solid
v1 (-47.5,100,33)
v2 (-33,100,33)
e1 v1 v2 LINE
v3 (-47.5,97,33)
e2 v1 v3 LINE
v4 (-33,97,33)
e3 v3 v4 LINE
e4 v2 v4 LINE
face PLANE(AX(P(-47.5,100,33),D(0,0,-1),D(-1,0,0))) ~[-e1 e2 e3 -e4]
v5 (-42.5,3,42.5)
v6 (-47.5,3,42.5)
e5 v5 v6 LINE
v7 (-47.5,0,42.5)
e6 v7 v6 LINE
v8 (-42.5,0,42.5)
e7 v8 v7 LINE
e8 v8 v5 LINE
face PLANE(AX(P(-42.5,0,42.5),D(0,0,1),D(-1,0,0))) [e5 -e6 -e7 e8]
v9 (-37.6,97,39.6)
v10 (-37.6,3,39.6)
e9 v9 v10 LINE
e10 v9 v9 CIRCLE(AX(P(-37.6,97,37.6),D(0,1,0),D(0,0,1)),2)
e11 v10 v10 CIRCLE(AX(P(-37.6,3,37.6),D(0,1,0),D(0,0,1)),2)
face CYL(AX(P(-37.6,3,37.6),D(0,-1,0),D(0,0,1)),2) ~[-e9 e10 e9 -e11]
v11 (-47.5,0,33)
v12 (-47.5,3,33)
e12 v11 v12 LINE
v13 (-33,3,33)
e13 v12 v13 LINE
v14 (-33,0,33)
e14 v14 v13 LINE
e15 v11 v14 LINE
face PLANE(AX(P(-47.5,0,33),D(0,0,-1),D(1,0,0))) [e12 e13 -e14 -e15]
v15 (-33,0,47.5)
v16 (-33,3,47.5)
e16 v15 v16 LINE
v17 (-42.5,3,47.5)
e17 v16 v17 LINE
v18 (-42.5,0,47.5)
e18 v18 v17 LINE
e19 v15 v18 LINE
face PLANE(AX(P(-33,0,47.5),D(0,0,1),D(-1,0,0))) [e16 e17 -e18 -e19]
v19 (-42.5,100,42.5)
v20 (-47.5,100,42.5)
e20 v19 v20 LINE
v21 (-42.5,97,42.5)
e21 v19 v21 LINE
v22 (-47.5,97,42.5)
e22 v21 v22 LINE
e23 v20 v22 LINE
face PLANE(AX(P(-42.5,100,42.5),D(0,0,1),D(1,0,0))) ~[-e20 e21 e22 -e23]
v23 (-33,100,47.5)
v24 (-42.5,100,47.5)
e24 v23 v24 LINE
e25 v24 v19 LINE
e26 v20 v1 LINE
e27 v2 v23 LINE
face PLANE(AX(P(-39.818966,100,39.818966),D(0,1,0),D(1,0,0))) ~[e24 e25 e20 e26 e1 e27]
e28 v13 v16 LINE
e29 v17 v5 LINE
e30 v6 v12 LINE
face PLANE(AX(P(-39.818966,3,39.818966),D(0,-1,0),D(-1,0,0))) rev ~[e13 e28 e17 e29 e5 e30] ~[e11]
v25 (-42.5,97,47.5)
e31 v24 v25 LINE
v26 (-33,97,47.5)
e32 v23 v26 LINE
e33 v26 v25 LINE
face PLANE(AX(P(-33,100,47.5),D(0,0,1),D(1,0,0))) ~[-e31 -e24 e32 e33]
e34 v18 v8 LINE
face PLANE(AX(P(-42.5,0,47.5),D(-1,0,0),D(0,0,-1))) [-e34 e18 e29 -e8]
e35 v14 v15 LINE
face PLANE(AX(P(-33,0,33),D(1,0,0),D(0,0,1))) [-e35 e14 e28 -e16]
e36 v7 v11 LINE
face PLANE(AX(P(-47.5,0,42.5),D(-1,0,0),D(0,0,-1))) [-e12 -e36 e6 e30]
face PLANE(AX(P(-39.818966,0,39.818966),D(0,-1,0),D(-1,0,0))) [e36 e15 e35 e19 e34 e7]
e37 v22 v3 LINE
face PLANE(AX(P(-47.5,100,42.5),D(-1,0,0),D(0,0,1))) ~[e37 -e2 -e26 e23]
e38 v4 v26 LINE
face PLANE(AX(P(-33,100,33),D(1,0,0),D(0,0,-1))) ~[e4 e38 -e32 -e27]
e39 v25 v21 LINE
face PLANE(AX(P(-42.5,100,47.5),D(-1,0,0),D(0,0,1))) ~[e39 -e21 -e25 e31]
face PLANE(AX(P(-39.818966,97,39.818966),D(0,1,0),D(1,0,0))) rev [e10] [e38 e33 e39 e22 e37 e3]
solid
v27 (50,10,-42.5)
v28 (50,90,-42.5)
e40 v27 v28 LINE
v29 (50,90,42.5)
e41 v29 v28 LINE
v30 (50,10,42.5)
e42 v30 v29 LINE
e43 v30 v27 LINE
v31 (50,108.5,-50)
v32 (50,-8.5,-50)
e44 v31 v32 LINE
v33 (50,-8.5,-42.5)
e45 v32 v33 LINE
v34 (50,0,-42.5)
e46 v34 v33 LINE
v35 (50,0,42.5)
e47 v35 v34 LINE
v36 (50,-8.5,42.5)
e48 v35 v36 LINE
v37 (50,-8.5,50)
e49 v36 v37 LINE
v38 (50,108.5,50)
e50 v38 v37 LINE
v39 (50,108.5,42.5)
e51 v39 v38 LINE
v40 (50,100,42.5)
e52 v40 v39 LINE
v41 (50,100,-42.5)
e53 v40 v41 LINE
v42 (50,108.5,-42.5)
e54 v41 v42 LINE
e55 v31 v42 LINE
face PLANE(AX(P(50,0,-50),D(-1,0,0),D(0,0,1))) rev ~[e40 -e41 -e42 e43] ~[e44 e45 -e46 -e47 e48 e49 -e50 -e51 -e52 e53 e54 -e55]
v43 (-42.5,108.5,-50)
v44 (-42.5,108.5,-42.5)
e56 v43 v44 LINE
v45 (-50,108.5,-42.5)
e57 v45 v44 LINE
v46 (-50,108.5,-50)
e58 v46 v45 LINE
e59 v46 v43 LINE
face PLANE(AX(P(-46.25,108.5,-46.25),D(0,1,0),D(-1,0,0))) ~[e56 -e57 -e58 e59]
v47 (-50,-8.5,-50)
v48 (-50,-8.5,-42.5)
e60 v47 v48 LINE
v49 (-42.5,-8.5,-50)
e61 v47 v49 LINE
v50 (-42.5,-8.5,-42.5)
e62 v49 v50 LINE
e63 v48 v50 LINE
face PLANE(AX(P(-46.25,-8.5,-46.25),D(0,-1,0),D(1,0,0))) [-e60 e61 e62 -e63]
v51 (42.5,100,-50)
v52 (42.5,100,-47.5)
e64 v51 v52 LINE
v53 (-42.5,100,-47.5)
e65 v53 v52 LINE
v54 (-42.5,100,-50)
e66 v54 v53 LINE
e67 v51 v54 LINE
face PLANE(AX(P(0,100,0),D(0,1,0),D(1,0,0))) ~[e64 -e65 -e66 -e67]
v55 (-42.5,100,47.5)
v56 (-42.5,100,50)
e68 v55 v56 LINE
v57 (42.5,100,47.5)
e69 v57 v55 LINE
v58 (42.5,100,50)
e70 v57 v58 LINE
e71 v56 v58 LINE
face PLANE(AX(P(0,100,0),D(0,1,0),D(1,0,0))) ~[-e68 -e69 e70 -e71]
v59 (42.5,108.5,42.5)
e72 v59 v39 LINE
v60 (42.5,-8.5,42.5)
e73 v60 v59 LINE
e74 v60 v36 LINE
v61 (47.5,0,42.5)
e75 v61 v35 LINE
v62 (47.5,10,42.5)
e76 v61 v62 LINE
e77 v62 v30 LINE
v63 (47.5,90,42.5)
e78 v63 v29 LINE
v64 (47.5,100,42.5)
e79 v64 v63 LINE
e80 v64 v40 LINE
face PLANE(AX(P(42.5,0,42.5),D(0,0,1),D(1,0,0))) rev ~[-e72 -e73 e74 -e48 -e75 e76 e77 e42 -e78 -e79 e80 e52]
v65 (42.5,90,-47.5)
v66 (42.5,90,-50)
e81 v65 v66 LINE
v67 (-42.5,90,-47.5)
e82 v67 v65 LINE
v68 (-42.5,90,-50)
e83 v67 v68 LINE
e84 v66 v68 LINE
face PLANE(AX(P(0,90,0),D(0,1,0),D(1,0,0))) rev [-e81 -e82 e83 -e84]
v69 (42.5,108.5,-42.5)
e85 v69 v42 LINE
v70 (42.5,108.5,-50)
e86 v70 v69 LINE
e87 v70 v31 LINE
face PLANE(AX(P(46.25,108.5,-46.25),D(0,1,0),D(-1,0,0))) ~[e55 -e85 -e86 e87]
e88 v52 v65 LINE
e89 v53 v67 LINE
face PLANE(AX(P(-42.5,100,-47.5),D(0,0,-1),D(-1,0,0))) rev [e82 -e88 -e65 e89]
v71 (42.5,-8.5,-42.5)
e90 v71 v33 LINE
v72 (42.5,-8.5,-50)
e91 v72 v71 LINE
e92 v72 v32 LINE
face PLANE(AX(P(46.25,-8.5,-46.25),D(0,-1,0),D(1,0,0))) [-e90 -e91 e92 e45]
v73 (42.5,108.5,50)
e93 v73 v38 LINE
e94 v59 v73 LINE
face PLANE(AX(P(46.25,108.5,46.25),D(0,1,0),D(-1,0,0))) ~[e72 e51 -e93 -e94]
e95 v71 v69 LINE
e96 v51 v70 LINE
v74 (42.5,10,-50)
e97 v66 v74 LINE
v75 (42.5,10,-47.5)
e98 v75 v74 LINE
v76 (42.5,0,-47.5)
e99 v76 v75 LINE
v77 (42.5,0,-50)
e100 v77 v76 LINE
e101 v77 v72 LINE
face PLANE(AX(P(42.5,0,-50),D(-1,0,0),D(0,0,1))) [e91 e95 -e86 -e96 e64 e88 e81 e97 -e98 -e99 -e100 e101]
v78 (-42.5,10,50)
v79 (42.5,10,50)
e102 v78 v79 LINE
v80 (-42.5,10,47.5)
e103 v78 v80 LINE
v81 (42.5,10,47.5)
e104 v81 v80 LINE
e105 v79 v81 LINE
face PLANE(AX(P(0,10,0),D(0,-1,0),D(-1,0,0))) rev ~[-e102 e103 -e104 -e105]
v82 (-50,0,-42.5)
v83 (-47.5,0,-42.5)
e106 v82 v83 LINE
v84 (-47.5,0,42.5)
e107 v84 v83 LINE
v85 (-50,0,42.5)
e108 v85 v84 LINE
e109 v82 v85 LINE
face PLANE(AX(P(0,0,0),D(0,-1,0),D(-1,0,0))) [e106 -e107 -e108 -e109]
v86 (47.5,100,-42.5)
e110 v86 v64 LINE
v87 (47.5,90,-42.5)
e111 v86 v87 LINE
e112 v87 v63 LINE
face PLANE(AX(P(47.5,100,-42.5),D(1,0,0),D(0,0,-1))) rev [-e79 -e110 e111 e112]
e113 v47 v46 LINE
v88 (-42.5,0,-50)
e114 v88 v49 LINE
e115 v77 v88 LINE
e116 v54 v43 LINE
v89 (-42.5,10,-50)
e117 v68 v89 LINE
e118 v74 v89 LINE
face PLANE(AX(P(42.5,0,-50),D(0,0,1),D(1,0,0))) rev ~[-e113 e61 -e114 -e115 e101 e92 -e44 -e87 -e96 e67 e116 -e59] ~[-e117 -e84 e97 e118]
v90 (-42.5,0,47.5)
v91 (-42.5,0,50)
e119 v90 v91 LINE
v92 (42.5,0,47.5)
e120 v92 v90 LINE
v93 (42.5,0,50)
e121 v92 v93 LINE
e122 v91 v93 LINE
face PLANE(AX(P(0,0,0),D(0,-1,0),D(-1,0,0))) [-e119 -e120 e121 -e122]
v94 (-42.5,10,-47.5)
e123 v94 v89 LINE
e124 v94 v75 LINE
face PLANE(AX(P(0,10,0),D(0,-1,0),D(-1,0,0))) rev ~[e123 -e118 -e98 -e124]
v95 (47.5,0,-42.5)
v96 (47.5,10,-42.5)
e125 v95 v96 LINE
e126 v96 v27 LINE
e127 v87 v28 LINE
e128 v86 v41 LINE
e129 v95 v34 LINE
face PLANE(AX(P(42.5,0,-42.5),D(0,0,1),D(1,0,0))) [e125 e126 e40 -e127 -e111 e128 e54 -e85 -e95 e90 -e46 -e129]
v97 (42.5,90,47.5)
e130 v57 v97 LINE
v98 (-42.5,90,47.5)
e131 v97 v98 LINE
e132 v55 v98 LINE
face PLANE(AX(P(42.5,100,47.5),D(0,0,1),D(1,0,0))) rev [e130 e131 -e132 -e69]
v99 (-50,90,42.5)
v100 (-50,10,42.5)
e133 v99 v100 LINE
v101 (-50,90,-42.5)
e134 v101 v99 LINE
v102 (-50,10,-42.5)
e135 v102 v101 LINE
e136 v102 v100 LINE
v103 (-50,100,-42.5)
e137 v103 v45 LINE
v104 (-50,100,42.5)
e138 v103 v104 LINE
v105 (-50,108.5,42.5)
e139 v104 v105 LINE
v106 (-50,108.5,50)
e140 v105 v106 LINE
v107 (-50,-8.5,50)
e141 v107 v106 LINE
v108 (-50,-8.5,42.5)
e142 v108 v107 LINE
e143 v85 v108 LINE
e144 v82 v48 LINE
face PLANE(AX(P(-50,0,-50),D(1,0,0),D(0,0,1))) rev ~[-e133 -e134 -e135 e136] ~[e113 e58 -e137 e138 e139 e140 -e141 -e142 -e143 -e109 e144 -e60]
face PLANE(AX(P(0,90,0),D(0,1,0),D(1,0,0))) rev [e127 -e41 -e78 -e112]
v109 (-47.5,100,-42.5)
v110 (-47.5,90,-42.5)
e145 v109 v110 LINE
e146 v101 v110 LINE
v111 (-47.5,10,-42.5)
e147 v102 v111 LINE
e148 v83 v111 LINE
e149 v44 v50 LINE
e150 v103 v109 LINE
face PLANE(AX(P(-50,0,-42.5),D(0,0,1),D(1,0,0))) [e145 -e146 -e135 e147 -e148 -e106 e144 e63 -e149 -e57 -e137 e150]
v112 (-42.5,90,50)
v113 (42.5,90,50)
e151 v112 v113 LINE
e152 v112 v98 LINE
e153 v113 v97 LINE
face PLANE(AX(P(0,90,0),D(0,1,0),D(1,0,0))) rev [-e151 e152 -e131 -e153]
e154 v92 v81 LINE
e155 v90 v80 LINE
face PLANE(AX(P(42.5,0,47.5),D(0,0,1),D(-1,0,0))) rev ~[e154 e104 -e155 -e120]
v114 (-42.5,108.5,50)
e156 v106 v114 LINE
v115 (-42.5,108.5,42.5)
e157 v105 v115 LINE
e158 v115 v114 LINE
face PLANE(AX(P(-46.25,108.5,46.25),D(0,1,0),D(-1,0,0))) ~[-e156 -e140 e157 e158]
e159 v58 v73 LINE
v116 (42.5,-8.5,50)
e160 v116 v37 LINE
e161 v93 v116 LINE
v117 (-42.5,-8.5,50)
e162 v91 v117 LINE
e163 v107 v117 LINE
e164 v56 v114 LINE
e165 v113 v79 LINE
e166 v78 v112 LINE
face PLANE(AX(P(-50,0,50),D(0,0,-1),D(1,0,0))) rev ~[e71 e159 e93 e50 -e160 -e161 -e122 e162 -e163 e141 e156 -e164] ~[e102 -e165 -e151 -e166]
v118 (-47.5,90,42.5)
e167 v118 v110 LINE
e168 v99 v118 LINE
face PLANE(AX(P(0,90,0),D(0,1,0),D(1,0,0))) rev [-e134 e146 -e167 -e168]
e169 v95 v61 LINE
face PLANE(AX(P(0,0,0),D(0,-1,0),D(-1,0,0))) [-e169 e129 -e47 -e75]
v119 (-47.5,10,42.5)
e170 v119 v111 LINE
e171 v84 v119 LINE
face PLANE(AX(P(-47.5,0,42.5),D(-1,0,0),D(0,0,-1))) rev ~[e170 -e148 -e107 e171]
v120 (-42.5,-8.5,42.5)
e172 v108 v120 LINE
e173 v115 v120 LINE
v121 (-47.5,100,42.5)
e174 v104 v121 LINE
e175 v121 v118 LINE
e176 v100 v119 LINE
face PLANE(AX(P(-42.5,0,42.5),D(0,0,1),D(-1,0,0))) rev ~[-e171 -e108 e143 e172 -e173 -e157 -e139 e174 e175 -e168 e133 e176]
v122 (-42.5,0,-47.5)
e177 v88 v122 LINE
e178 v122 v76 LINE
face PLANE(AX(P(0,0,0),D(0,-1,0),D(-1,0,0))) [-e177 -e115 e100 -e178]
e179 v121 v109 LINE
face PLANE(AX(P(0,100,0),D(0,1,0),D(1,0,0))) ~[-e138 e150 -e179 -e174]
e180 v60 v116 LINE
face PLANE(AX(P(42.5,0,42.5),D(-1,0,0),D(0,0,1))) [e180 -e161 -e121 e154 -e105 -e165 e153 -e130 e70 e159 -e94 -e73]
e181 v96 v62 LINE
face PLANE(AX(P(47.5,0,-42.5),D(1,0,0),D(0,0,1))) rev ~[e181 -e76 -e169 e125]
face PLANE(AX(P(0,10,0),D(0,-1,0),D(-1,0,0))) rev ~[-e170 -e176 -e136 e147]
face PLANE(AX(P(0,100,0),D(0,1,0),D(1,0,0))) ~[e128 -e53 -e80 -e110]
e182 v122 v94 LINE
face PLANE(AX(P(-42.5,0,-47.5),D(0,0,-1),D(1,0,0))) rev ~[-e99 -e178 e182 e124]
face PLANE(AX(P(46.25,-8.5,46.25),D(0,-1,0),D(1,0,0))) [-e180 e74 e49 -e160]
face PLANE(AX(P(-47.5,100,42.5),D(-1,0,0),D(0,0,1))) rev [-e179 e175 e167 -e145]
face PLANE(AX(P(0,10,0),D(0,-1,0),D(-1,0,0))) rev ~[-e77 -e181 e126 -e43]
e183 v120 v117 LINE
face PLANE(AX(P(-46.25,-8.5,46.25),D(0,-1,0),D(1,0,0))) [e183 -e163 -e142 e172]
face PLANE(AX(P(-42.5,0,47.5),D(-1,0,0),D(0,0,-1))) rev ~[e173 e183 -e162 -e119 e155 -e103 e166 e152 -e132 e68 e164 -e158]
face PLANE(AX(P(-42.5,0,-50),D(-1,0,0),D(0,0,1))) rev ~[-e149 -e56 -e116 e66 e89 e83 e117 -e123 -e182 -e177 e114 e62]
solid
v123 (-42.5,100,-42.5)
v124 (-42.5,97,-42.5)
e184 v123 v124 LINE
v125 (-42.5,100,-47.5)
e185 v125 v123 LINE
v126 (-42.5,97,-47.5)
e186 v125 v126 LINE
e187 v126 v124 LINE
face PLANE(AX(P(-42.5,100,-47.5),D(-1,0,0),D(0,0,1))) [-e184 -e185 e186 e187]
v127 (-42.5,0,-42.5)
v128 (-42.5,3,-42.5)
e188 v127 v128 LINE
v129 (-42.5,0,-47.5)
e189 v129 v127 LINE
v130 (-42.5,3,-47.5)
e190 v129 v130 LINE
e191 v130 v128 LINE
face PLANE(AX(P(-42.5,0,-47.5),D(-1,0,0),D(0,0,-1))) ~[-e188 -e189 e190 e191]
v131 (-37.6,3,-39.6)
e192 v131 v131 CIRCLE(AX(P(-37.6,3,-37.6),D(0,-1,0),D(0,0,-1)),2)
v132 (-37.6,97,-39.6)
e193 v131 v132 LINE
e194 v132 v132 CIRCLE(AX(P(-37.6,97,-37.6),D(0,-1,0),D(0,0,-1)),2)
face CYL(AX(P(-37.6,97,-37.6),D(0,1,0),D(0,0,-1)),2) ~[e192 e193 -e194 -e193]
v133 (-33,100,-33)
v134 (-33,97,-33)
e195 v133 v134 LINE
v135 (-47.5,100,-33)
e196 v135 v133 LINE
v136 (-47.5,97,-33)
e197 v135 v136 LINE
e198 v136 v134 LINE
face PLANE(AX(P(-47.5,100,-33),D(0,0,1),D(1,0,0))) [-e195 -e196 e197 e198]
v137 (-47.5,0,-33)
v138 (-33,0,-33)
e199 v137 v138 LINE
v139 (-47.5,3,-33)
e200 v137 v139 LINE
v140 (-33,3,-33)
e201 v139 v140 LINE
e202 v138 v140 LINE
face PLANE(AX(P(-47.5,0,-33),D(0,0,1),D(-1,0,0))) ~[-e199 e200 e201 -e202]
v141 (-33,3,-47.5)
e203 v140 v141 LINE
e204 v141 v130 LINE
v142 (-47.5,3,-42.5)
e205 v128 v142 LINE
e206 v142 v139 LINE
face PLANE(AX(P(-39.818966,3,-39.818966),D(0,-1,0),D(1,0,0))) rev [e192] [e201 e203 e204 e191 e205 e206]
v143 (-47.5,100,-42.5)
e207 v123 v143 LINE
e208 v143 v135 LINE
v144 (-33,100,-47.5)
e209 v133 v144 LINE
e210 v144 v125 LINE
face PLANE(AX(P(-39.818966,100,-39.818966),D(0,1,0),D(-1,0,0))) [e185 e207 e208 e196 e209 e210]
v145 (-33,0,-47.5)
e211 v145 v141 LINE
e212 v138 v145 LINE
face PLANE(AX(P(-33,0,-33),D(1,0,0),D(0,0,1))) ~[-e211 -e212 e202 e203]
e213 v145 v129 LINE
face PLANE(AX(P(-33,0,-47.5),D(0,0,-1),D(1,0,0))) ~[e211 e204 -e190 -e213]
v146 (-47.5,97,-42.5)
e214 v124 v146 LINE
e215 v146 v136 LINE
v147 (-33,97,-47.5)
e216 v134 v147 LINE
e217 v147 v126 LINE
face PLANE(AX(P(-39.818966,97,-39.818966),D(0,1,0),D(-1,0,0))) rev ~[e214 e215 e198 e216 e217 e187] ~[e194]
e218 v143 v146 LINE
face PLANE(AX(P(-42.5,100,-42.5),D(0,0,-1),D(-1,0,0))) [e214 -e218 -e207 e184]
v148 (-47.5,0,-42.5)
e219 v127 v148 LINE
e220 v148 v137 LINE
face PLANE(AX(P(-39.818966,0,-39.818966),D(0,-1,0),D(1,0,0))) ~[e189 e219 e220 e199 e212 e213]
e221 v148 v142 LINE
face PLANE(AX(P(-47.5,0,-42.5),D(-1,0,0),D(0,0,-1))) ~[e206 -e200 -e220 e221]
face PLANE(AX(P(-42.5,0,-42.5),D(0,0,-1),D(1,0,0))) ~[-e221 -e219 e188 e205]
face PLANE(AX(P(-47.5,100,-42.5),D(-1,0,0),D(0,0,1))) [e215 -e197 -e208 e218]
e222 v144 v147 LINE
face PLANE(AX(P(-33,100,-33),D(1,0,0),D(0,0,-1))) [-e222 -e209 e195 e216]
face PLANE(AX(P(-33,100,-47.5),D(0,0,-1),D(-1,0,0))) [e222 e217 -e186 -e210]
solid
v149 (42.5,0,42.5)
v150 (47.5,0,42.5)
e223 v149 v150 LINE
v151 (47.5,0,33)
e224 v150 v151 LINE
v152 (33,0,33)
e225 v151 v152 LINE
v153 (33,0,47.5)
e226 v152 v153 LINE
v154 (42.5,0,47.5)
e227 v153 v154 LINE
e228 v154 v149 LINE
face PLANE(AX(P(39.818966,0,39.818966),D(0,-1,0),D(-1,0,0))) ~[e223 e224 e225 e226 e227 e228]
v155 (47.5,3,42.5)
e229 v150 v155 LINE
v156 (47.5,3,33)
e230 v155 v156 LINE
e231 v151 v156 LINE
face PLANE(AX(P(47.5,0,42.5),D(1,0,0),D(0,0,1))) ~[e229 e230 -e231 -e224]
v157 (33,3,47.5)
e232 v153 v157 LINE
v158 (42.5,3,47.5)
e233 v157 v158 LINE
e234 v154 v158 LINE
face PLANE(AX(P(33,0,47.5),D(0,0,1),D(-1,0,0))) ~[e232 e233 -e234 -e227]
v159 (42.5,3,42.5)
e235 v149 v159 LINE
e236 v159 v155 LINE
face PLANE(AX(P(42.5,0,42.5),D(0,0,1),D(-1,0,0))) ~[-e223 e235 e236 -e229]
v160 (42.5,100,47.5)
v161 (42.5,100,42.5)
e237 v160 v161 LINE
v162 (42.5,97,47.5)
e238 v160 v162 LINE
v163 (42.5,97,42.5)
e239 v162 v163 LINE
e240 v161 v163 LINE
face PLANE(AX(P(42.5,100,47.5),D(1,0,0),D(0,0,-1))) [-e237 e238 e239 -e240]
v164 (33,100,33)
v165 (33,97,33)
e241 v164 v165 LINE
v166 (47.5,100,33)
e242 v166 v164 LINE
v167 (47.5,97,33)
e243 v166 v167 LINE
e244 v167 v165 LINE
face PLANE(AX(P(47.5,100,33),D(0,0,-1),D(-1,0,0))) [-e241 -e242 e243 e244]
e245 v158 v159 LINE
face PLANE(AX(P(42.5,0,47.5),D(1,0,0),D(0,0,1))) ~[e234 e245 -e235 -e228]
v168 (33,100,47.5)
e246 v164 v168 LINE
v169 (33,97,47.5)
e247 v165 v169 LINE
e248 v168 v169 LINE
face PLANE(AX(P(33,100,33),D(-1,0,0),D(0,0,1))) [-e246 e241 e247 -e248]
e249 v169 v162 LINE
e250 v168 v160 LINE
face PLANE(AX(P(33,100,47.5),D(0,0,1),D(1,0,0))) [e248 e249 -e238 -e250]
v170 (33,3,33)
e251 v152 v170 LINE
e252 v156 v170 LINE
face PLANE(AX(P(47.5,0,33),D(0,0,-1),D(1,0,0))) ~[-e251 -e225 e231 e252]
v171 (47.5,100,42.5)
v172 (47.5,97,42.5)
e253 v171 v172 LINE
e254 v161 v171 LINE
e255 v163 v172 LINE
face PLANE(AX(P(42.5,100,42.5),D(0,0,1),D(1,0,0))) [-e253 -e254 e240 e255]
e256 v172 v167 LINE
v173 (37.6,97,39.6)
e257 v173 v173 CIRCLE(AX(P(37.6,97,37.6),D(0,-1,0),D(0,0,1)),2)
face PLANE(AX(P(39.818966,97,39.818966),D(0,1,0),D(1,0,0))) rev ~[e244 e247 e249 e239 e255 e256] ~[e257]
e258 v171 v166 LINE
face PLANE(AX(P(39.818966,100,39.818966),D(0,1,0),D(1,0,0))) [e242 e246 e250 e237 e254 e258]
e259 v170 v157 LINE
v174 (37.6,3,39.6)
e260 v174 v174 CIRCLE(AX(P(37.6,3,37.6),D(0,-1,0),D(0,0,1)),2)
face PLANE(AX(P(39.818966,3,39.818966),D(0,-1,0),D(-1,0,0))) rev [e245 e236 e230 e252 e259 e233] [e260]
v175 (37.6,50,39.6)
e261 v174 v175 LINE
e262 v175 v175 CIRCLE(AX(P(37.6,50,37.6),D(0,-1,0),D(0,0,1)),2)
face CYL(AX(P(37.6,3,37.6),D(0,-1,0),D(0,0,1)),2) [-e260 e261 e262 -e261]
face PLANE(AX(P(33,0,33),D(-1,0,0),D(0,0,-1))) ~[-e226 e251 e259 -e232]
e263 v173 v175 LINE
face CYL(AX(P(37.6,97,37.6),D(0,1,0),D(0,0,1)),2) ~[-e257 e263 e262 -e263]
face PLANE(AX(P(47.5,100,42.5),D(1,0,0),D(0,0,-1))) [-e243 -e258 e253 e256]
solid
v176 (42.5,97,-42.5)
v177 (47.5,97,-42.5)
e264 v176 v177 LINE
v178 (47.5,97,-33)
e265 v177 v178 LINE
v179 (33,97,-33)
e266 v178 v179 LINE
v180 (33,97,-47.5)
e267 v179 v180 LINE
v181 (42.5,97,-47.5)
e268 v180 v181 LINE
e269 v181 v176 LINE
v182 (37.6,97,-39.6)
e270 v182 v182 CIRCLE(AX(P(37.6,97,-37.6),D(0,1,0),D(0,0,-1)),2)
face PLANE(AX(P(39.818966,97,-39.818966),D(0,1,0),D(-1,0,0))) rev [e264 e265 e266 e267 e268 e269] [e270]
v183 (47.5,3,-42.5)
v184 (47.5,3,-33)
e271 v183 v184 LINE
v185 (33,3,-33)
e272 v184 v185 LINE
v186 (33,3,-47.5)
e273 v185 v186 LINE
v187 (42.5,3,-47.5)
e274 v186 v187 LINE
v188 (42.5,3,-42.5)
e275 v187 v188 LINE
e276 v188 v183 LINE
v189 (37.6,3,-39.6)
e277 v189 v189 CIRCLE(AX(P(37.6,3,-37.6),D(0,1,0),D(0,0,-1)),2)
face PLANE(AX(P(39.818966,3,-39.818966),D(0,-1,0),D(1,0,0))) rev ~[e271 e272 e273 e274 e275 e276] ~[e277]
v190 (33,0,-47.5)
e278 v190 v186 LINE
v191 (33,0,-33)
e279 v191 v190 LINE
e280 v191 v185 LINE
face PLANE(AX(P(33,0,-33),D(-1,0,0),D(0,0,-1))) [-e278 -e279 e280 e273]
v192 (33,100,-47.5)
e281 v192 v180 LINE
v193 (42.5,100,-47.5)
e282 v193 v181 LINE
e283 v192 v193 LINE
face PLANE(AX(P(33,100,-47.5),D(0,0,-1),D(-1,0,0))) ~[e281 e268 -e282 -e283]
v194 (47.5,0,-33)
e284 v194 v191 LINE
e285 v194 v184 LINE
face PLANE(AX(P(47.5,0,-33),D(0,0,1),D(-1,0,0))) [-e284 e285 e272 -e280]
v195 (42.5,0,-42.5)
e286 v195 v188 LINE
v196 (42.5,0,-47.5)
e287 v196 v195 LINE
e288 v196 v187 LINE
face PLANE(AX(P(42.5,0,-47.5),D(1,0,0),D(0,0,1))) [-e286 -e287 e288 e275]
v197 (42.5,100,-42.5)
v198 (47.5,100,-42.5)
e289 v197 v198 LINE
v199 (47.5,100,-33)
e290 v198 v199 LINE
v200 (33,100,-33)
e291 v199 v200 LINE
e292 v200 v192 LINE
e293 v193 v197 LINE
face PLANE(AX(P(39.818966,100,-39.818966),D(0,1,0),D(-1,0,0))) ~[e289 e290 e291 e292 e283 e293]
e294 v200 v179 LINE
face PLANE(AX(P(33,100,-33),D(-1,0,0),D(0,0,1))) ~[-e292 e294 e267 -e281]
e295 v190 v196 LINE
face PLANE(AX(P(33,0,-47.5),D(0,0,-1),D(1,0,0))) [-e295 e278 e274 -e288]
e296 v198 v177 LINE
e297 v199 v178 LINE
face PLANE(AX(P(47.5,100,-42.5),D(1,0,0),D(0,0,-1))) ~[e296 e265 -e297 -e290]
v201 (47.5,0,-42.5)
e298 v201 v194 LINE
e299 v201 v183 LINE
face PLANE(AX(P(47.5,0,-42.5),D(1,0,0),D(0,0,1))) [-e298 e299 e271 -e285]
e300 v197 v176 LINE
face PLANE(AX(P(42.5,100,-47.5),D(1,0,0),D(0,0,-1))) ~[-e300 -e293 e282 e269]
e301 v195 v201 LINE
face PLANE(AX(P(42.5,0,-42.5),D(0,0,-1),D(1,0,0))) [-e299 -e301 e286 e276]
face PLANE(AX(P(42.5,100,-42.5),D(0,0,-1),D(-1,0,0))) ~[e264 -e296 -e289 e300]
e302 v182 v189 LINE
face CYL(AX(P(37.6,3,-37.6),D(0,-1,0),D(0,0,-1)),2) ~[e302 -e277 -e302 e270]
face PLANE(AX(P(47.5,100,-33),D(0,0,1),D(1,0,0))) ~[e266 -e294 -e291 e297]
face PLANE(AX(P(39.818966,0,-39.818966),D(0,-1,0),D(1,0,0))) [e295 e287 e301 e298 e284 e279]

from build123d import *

# Parameters (mm, degrees)
BOSS_EXTRUDE1_DEPTH  = 10
SKETCH3_W            = 7.5
SKETCH3_H            = 7.5
BOSS_EXTRUDE2_DEPTH  = 40
SKETCH5_W            = 7.5
SKETCH5_H            = 7.5
BOSS_EXTRUDE8_DEPTH  = 8.5
BOSS_EXTRUDE9_DEPTH  = 3
SKETCH7_R            = 2
BOSS_EXTRUDE10_DEPTH = 47


with BuildPart() as part:
    # Sketch2 → Boss-Extrude1 (new body)
    with BuildSketch(Plane(origin=(0, 0, 0), x_dir=(1, 0, 0), z_dir=(0, 1, 0))):
        Polygon((-50, 50), (-42.5, 50), (0, 50), (42.5, 50), (50, 50), (50, 42.5), (50, 0), (50, -42.5), (50, -50), (42.5, -50), (0, -50), (-42.5, -50), (-50, -50), (-50, -42.5), (-50, 0), (-50, 42.5), align=None)
        Polygon((-42.5, 42.5), (-42.5, 47.5), (0, 47.5), (42.5, 47.5), (42.5, 42.5), (47.5, 42.5), (47.5, 0), (47.5, -42.5), (42.5, -42.5), (42.5, -47.5), (0, -47.5), (-42.5, -47.5), (-42.5, -42.5), (-47.5, -42.5), (-47.5, 0), (-47.5, 42.5), align=None, mode=Mode.SUBTRACT)
    extrude(amount=BOSS_EXTRUDE1_DEPTH)

    # Sketch3 → Boss-Extrude2 (add)
    with BuildSketch(Plane(origin=(0, 10, 0), x_dir=(1, 0, 0), z_dir=(0, 1, 0))):
        with Locations((46.25, 46.25)):
            Rectangle(SKETCH3_W, SKETCH3_H)
        with Locations((46.25, -46.25)):
            Rectangle(SKETCH3_W, SKETCH3_H)
        with Locations((-46.25, 46.25)):
            Rectangle(SKETCH3_W, SKETCH3_H)
        with Locations((-46.25, -46.25)):
            Rectangle(SKETCH3_W, SKETCH3_H)
    extrude(amount=BOSS_EXTRUDE2_DEPTH)

    # Sketch5 → Boss-Extrude8 (add)
    with BuildSketch(Plane.XZ):
        with Locations((46.25, -46.25)):
            Rectangle(SKETCH5_W, SKETCH5_H)
        with Locations((46.25, 46.25)):
            Rectangle(SKETCH5_W, SKETCH5_H)
        with Locations((-46.25, 46.25)):
            Rectangle(SKETCH5_W, SKETCH5_H)
        with Locations((-46.25, -46.25)):
            Rectangle(SKETCH5_W, SKETCH5_H)
    extrude(amount=BOSS_EXTRUDE8_DEPTH)


with BuildPart() as body_2:
    # Sketch6 → Boss-Extrude9 (new body)
    with BuildSketch(Plane.XZ):
        Polygon((42.5, -42.5), (47.5, -42.5), (47.5, -33), (33, -33), (33, -47.5), (42.5, -47.5), align=None)
    extrude(amount=-BOSS_EXTRUDE9_DEPTH)


with BuildPart() as body_3:
    # Sketch7 → Boss-Extrude10 (new body)
    with BuildSketch(Plane(origin=(0, 3, 0), x_dir=(1, 0, 0), z_dir=(0, 1, 0))):
        with Locations(Location((37.6, 37.6, 0), (0, 0, 90))):
            Circle(SKETCH7_R)
    extrude(amount=BOSS_EXTRUDE10_DEPTH)


with BuildPart() as body_4:
    # Mirror2: mirrored copy
    add(body_3.part.mirror(Plane(origin=(0, 0, 0), x_dir=(0, 0, 1), z_dir=(1, 0, 0))))


with BuildPart() as body_5:
    # Mirror2 2: mirrored copy
    add(body_2.part.mirror(Plane(origin=(0, 0, 0), x_dir=(0, 0, 1), z_dir=(1, 0, 0))))


with BuildPart() as body_6:
    # Mirror3: mirrored copy
    add(body_5.part.mirror(Plane.XY))


with BuildPart() as body_7:
    # Mirror3 2: mirrored copy
    add(body_4.part.mirror(Plane.XY))


with BuildPart() as body_8:
    # Mirror3 3: mirrored copy
    add(body_3.part.mirror(Plane.XY))


with BuildPart() as body_9:
    # Mirror3 4: mirrored copy
    add(body_2.part.mirror(Plane.XY))


with BuildPart() as body_10:
    # Mirror4: mirrored copy
    add(part.part.mirror(Plane(origin=(0, 50, 0), x_dir=(0, 0, 1), z_dir=(0, -1, 0))))

    # Combine1: union part
    add(part.part)


with BuildPart() as body_11:
    # Mirror4 2: mirrored copy
    add(body_7.part.mirror(Plane(origin=(0, 50, 0), x_dir=(0, 0, 1), z_dir=(0, -1, 0))))


with BuildPart() as body_12:
    # Mirror4 3: mirrored copy
    add(body_6.part.mirror(Plane(origin=(0, 50, 0), x_dir=(0, 0, 1), z_dir=(0, -1, 0))))


with BuildPart() as body_13:
    # Mirror4 4: mirrored copy
    add(body_5.part.mirror(Plane(origin=(0, 50, 0), x_dir=(0, 0, 1), z_dir=(0, -1, 0))))


with BuildPart() as body_14:
    # Mirror4 5: mirrored copy
    add(body_4.part.mirror(Plane(origin=(0, 50, 0), x_dir=(0, 0, 1), z_dir=(0, -1, 0))))


with BuildPart() as body_15:
    # Mirror4 6: mirrored copy
    add(body_3.part.mirror(Plane(origin=(0, 50, 0), x_dir=(0, 0, 1), z_dir=(0, -1, 0))))


with BuildPart() as body_16:
    # Mirror4 7: mirrored copy
    add(body_2.part.mirror(Plane(origin=(0, 50, 0), x_dir=(0, 0, 1), z_dir=(0, -1, 0))))


with BuildPart() as body_17:
    # Mirror4 8: mirrored copy
    add(body_9.part.mirror(Plane(origin=(0, 50, 0), x_dir=(0, 0, 1), z_dir=(0, -1, 0))))


with BuildPart() as body_18:
    # Mirror4 9: mirrored copy
    add(body_8.part.mirror(Plane(origin=(0, 50, 0), x_dir=(0, 0, 1), z_dir=(0, -1, 0))))

    # Combine5: union body 8
    add(body_8.part)


with BuildPart() as body_7_1:
    add(body_7.part)

    # Combine2: union body 11
    add(body_11.part)


with BuildPart() as body_4_1:
    add(body_4.part)

    # Combine3: union body 14
    add(body_14.part)


with BuildPart() as body_3_1:
    add(body_3.part)

    # Combine4: union body 15
    add(body_15.part)


with BuildPart() as body_2_1:
    add(body_2.part)

    # Combine6: union body 3, body 16
    add(body_3_1.part)
    add(body_16.part)


with BuildPart() as body_5_1:
    add(body_5.part)

    # Combine7: union body 4, body 13
    add(body_4_1.part)
    add(body_13.part)


with BuildPart() as body_6_1:
    add(body_6.part)

    # Combine8: union body 7, body 12
    add(body_7_1.part)
    add(body_12.part)


with BuildPart() as body_17_1:
    add(body_17.part)

    # Combine9: union body 9, body 18
    add(body_9.part)
    add(body_18.part)


solid = Compound([body_10.part, body_2_1.part, body_5_1.part, body_6_1.part, body_17_1.part])
